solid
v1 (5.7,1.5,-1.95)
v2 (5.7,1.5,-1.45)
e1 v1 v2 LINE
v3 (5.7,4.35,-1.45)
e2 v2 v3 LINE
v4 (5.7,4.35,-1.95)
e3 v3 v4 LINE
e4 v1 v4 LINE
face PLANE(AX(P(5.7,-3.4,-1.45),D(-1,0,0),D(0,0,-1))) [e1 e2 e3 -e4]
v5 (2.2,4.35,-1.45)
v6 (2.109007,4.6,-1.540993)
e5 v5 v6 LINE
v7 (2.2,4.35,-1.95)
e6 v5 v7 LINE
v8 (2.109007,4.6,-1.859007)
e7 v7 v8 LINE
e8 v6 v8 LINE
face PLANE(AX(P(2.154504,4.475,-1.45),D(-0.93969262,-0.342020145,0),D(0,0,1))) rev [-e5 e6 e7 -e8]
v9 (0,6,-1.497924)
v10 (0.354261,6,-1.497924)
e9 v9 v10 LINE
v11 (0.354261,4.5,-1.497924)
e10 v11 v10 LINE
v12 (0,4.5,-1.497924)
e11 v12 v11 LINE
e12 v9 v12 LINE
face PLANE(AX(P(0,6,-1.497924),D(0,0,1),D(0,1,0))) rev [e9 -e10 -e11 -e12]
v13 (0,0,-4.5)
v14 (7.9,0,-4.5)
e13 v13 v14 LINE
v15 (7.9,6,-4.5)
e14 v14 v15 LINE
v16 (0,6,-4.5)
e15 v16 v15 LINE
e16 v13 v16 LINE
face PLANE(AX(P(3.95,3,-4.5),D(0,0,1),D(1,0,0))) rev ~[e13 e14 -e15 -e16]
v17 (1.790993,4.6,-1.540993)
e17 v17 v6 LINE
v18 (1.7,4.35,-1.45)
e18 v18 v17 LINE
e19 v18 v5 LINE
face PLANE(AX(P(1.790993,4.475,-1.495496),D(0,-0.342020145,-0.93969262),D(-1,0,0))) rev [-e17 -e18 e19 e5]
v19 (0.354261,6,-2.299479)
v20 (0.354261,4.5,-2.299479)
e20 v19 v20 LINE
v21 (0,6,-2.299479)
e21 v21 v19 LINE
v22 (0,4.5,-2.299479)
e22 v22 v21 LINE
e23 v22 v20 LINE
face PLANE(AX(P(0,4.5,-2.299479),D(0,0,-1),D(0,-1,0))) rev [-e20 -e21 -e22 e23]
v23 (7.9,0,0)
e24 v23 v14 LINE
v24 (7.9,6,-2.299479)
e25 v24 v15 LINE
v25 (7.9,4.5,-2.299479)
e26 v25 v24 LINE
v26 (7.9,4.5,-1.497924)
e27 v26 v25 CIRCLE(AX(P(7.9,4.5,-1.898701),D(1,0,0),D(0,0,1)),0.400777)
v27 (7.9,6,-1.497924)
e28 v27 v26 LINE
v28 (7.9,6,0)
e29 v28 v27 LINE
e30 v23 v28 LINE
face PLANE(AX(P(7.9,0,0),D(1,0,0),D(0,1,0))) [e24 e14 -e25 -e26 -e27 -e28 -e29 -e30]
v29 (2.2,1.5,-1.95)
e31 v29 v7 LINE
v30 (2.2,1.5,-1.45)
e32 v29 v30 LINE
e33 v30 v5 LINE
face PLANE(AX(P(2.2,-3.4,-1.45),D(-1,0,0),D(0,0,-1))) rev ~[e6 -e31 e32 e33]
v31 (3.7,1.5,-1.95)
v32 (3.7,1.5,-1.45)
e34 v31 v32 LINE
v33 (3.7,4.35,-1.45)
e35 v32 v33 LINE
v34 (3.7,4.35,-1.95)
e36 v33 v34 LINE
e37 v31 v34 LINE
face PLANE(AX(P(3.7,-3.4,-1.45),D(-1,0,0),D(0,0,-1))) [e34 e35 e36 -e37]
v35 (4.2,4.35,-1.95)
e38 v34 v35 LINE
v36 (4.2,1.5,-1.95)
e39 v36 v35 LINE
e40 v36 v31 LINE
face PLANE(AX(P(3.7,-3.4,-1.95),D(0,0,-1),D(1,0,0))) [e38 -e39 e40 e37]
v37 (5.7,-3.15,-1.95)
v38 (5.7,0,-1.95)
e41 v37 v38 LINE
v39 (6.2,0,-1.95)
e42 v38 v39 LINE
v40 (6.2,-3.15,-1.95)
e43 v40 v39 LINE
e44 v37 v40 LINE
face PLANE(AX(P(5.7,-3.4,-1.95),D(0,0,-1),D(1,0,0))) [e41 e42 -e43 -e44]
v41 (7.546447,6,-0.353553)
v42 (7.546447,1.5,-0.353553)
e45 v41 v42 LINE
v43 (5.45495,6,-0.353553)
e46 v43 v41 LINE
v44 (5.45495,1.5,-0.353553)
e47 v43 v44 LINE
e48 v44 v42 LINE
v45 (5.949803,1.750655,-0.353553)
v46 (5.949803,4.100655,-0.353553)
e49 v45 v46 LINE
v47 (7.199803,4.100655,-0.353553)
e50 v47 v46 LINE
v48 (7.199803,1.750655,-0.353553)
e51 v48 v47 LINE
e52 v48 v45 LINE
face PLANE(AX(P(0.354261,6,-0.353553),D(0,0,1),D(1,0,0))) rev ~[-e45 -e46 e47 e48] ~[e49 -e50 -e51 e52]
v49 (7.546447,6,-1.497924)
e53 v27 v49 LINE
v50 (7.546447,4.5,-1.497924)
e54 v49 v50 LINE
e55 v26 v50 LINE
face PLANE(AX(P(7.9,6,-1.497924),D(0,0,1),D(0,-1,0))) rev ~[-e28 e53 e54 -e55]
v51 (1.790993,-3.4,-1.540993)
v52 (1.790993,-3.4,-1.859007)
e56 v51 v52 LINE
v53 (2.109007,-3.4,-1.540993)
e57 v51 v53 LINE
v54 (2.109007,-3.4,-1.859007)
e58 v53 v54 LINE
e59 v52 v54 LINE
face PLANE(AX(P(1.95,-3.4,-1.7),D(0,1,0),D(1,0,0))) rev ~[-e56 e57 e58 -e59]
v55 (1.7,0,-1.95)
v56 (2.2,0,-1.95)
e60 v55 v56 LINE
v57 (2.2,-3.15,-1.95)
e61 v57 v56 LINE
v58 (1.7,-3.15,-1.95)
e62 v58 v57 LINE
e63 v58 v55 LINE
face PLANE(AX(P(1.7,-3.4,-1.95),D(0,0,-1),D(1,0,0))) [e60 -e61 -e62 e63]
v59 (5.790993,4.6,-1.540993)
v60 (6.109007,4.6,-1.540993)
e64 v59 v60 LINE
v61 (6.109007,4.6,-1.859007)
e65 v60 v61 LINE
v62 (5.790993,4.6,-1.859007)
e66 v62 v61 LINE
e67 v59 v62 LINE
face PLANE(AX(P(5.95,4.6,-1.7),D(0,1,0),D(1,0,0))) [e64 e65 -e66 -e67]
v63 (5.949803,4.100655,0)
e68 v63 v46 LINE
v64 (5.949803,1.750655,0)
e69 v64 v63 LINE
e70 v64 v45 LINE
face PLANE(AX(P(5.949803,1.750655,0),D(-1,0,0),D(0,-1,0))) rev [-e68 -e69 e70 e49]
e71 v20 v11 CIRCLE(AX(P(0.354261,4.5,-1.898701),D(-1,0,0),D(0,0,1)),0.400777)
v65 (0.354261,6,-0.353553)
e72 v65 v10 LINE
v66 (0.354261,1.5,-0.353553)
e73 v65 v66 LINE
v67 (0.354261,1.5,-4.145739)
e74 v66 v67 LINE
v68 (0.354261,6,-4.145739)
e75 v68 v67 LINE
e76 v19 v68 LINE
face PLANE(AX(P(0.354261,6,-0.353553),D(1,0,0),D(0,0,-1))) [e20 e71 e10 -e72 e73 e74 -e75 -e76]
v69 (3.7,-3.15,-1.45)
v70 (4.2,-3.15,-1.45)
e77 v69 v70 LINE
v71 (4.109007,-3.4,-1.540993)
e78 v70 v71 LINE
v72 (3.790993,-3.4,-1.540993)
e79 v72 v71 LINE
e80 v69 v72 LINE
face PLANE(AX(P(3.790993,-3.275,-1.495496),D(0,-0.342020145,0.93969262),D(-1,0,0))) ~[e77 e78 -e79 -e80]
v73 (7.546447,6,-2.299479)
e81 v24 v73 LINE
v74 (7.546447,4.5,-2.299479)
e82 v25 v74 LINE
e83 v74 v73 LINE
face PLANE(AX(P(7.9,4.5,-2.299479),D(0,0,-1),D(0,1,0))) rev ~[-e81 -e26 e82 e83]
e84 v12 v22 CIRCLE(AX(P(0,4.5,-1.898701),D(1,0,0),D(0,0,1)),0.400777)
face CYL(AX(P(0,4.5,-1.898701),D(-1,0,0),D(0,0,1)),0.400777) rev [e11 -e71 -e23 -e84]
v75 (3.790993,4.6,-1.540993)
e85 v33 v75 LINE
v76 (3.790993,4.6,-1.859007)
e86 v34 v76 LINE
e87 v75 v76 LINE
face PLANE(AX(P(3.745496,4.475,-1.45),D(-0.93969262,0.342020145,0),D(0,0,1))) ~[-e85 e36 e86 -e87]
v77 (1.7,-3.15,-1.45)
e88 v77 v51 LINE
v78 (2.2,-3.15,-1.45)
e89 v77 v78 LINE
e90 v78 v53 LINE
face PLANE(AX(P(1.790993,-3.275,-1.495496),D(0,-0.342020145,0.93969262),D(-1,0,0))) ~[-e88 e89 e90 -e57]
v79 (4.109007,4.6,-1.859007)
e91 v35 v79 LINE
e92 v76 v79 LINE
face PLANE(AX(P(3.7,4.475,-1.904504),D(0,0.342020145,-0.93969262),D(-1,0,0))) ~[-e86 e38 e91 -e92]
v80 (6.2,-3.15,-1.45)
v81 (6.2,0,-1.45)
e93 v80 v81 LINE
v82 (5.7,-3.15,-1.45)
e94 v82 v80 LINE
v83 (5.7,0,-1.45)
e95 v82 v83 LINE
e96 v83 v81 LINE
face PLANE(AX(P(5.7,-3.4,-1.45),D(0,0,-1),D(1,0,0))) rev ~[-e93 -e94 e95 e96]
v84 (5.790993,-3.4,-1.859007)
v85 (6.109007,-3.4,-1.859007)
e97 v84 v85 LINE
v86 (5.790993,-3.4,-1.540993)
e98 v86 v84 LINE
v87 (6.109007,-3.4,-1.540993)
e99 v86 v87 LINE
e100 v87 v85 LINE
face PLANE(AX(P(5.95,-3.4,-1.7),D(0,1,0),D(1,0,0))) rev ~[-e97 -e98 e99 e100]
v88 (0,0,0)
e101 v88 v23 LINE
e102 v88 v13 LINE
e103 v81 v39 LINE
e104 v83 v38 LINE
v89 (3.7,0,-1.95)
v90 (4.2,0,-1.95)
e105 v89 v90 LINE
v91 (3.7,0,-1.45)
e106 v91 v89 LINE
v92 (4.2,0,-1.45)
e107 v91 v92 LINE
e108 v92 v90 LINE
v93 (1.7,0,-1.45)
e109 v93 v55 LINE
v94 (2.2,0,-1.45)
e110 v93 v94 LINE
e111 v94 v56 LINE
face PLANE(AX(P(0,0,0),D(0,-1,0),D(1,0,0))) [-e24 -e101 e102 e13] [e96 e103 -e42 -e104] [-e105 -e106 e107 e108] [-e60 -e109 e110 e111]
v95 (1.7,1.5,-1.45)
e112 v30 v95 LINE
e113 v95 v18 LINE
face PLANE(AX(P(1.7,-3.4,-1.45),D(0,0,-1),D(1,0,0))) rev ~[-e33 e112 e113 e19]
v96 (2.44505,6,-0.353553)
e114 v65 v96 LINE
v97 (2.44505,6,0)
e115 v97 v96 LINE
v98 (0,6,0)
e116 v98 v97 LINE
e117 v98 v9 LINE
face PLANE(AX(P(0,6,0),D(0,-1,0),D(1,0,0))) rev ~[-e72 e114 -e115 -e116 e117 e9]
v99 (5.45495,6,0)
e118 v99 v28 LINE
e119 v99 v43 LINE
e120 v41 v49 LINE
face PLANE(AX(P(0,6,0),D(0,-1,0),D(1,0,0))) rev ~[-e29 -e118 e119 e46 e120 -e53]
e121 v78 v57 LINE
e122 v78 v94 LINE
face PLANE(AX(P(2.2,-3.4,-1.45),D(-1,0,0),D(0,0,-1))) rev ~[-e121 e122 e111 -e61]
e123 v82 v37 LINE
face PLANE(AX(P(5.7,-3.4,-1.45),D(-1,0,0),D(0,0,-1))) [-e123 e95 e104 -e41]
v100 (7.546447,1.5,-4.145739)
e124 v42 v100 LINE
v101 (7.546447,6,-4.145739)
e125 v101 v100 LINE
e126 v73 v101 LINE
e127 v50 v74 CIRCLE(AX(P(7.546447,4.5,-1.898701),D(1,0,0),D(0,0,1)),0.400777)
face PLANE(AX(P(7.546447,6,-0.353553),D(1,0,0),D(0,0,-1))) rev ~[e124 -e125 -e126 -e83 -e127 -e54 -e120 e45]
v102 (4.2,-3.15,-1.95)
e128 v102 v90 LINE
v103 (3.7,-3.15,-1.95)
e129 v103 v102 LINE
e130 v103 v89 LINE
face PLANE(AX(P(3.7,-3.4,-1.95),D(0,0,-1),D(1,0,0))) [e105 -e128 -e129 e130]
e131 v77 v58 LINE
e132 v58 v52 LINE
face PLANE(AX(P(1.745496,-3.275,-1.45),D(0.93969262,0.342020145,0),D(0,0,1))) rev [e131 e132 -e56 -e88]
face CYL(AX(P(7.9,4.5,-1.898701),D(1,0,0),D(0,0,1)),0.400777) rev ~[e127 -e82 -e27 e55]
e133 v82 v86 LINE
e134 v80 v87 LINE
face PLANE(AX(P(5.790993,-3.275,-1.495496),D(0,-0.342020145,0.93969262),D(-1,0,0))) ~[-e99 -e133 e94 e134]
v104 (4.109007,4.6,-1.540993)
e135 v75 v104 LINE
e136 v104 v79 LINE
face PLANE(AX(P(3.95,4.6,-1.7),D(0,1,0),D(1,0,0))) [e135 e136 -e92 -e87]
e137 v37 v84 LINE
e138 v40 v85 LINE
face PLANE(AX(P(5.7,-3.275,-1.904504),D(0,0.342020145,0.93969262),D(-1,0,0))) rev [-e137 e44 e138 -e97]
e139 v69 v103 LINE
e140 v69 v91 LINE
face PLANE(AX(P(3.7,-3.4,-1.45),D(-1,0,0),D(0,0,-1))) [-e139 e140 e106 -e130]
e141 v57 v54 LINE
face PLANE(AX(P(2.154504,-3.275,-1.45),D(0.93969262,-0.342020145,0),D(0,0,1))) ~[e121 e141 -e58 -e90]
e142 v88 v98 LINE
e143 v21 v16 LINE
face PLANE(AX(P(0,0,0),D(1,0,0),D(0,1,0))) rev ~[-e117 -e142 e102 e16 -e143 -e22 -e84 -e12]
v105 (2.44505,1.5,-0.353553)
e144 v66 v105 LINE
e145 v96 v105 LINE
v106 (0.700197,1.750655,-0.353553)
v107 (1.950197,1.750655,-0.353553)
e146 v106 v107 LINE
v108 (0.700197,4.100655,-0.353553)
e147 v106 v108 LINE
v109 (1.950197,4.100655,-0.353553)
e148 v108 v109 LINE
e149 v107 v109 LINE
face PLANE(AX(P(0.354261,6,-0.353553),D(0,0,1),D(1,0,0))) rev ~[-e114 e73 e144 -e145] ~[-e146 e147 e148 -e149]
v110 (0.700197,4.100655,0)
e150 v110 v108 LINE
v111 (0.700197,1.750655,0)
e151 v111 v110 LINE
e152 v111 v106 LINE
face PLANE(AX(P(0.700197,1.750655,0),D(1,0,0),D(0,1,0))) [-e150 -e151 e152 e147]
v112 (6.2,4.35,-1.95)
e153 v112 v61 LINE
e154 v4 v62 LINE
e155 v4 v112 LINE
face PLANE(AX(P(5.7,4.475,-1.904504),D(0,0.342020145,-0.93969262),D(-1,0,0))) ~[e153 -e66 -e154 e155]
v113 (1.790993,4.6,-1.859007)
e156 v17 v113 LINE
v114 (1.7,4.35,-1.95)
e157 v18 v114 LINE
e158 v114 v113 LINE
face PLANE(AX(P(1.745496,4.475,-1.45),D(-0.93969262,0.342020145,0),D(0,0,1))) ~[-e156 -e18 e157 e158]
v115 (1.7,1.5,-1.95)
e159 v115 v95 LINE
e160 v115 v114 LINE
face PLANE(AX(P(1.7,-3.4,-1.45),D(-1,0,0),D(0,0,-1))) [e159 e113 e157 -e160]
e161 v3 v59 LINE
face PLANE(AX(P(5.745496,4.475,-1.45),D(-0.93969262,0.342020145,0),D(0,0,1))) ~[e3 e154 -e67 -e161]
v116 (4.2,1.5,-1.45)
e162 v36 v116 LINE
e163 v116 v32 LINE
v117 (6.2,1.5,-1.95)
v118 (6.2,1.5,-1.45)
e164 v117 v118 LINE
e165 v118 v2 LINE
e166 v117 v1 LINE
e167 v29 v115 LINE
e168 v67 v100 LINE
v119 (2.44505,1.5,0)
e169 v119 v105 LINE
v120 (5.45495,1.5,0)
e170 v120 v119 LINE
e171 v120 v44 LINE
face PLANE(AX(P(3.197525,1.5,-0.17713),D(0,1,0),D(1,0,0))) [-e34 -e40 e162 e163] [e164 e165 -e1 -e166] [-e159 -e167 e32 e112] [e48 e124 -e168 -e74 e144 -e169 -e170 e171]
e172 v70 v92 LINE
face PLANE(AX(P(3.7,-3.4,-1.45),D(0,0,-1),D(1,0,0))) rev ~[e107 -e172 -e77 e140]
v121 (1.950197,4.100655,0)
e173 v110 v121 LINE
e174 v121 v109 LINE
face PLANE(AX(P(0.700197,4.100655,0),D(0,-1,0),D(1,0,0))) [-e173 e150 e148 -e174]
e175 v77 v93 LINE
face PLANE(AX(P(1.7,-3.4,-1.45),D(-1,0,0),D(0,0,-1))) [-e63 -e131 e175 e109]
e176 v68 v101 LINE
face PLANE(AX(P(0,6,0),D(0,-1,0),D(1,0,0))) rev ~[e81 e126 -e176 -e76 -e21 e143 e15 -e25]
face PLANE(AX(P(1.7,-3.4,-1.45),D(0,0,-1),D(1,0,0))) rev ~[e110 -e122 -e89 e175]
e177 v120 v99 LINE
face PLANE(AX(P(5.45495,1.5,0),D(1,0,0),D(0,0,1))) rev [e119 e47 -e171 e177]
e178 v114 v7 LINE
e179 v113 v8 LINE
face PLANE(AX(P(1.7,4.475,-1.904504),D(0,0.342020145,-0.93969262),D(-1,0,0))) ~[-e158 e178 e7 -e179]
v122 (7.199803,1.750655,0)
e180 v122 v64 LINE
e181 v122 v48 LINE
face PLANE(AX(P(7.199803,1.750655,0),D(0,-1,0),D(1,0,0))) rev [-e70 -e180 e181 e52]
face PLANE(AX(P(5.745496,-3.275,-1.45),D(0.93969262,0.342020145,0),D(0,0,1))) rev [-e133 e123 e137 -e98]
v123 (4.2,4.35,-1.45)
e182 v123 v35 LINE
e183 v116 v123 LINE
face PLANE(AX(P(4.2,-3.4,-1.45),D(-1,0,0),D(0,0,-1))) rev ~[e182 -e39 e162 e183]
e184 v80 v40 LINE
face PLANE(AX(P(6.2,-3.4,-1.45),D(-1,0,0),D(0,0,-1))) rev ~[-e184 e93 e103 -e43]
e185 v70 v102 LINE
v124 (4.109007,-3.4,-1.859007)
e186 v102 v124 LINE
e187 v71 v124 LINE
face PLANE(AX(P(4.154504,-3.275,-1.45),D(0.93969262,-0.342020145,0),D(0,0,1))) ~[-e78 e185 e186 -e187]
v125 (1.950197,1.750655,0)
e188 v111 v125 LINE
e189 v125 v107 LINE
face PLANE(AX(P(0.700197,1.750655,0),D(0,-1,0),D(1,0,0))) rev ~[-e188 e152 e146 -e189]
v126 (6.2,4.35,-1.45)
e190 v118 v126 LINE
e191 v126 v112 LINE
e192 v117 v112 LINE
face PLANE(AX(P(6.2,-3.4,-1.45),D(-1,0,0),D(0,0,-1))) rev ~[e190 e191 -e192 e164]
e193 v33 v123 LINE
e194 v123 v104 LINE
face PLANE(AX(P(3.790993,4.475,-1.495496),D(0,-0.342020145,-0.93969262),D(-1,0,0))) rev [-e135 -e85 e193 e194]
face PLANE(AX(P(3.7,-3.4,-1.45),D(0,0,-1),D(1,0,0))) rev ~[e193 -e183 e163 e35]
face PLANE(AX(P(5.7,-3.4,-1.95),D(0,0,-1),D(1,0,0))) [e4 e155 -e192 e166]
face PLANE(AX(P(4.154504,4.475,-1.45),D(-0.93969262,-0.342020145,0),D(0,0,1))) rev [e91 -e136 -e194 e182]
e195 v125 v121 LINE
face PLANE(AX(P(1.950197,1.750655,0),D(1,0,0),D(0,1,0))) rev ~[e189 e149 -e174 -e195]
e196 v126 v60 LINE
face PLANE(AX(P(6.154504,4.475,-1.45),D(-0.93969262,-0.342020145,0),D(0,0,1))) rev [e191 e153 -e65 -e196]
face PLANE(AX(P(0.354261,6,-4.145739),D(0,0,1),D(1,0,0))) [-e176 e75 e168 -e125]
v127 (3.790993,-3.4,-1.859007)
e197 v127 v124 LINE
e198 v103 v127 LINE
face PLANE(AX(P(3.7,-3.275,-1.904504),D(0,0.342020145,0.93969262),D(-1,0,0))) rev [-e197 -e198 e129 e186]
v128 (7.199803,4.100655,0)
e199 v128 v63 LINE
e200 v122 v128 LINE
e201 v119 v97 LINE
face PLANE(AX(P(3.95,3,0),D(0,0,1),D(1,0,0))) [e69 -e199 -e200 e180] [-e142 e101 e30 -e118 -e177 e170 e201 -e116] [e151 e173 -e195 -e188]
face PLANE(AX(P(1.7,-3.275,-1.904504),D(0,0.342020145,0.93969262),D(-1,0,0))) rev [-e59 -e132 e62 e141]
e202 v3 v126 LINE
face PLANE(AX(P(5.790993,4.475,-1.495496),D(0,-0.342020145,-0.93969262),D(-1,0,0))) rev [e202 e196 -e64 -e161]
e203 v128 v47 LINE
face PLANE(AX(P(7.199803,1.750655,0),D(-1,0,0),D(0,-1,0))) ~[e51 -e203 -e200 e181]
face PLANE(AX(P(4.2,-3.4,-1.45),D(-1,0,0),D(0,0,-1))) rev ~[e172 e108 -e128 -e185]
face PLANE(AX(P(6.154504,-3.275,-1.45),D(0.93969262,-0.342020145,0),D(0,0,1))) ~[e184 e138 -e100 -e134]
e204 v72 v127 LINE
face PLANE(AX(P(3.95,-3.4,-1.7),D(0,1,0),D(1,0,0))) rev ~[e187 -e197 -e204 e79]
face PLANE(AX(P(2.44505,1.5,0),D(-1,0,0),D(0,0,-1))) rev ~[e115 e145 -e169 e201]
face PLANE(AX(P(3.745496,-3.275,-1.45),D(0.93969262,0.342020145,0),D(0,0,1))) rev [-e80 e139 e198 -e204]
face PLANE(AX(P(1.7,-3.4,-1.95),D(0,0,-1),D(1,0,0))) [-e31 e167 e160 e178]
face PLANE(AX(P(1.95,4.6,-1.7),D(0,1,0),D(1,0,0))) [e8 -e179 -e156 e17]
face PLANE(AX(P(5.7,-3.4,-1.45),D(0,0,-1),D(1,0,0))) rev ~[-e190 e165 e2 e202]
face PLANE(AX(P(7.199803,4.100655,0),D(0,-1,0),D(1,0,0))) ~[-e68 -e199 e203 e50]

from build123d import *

# Parameters (mm, degrees)
SKETCH1_W              = 7.9
SKETCH1_H              = 6
BOSS_EXTRUDE1_DEPTH    = 4.5
SKETCH2_W              = 7.192186002
SKETCH2_H              = 3.792186002
CUT_EXTRUDE1_DEPTH     = 4.5
SKETCH3_W              = 1.504949596
SKETCH3_H              = 0.354260607
CUT_EXTRUDE2_DEPTH     = 4.5
CUT_EXTRUDE3_DEPTH     = 0.5
SKETCH6_W              = 1.25
SKETCH6_H              = 2.35
CUT_EXTRUDE4_DEPTH     = 0.5
BOSS_EXTRUDE3_START    = -3.4
SKETCH10_W             = 0.5
SKETCH10_H             = 0.5
BOSS_EXTRUDE3_DEPTH    = 8
CHAMFER1_SIZE          = 0.25
CHAMFER1_SIZE2         = 0.090992559
CHAMFER1_PART_2_SIZE   = 0.25
CHAMFER1_PART_2_SIZE2  = 0.090992559
CHAMFER1_PART_3_SIZE   = 0.25
CHAMFER1_PART_3_SIZE2  = 0.090992559
CHAMFER1_PART_4_SIZE   = 0.25
CHAMFER1_PART_4_SIZE2  = 0.090992559
CHAMFER1_PART_5_SIZE   = 0.25
CHAMFER1_PART_5_SIZE2  = 0.090992559
CHAMFER1_PART_6_SIZE   = 0.25
CHAMFER1_PART_6_SIZE2  = 0.090992559
CHAMFER1_PART_7_SIZE   = 0.25
CHAMFER1_PART_7_SIZE2  = 0.090992559
CHAMFER1_PART_8_SIZE   = 0.25
CHAMFER1_PART_8_SIZE2  = 0.090992559
CHAMFER1_PART_9_SIZE   = 0.25
CHAMFER1_PART_9_SIZE2  = 0.090992559
CHAMFER1_PART_10_SIZE  = 0.25
CHAMFER1_PART_10_SIZE2 = 0.090992559
CHAMFER1_PART_11_SIZE  = 0.25
CHAMFER1_PART_11_SIZE2 = 0.090992559
CHAMFER1_PART_12_SIZE  = 0.25
CHAMFER1_PART_12_SIZE2 = 0.090992559
CHAMFER2_SIZE          = 0.25
CHAMFER2_SIZE2         = 0.090992559
CHAMFER2_PART_2_SIZE   = 0.25
CHAMFER2_PART_2_SIZE2  = 0.090992559
CHAMFER2_PART_3_SIZE   = 0.25
CHAMFER2_PART_3_SIZE2  = 0.090992559
CHAMFER2_PART_4_SIZE   = 0.25
CHAMFER2_PART_4_SIZE2  = 0.090992559
CHAMFER2_PART_5_SIZE   = 0.25
CHAMFER2_PART_5_SIZE2  = 0.090992559
CHAMFER2_PART_6_SIZE   = 0.25
CHAMFER2_PART_6_SIZE2  = 0.090992559
CHAMFER2_PART_7_SIZE   = 0.25
CHAMFER2_PART_7_SIZE2  = 0.090992559
CHAMFER2_PART_8_SIZE   = 0.25
CHAMFER2_PART_8_SIZE2  = 0.090992559
CHAMFER2_PART_9_SIZE   = 0.25
CHAMFER2_PART_9_SIZE2  = 0.090992559
CHAMFER2_PART_10_SIZE  = 0.25
CHAMFER2_PART_10_SIZE2 = 0.090992559
CHAMFER2_PART_11_SIZE  = 0.25
CHAMFER2_PART_11_SIZE2 = 0.090992559
CHAMFER2_PART_12_SIZE  = 0.25
CHAMFER2_PART_12_SIZE2 = 0.090992559


with BuildPart() as part:
    # Sketch1 → Boss-Extrude1 (new body)
    with BuildSketch(Plane.XY):
        with Locations((3.95, 3)):
            Rectangle(SKETCH1_W, SKETCH1_H)
    extrude(amount=-BOSS_EXTRUDE1_DEPTH)

    # Sketch2 → Cut-Extrude1 (cut)
    with BuildSketch(Plane(origin=(0, 6, 0), x_dir=(1, 0, 0), z_dir=(0, 1, 0))):
        with Locations((3.950353608, 2.249646392)):
            Rectangle(SKETCH2_W, SKETCH2_H)
    extrude(amount=-CUT_EXTRUDE1_DEPTH, mode=Mode.SUBTRACT)

    # Sketch3 → Cut-Extrude2 (cut)
    with BuildSketch(Plane(origin=(0, 1.5, 0), x_dir=(1, 0, 0), z_dir=(0, 1, 0))):
        with Locations((3.197525202, 0.177130304)):
            Rectangle(SKETCH3_W, SKETCH3_H)
    cut_extrude2 = extrude(amount=CUT_EXTRUDE2_DEPTH, mode=Mode.SUBTRACT)

    # Sketch5 → Cut-Extrude3 (cut)
    with BuildSketch(Plane(origin=(7.9, 0, 0), x_dir=(0, 0, -1), z_dir=(1, 0, 0))):
        with BuildLine():
            Line((2.299478677, 6), (1.497924103, 6))
            Line((1.497924103, 6), (1.497924103, 4.5))
            ThreePointArc((1.497924103, 4.5), (1.89870139, 4.900777287), (2.299478677, 4.5))
            Line((2.299478677, 4.5), (2.299478677, 6))
        make_face()
        with BuildLine():
            ThreePointArc((2.299478677, 4.5), (1.89870139, 4.900777287), (1.497924103, 4.5))
            Line((1.497924103, 4.5), (2.299478677, 4.5))
        make_face()
        with BuildLine():
            Line((2.299478677, 4.5), (1.497924103, 4.5))
            ThreePointArc((1.497924103, 4.5), (1.89870139, 4.099222713), (2.299478677, 4.5))
        make_face()
    cut_extrude3 = extrude(amount=-CUT_EXTRUDE3_DEPTH, mode=Mode.SUBTRACT)

    # Mirror1: Cut-Extrude3 across plane
    add(cut_extrude3.mirror(Plane(origin=(3.95, 0, 0), x_dir=(0, 0, 1), z_dir=(1, 0, 0))), mode=Mode.SUBTRACT)

    # Sketch6 → Cut-Extrude4 (cut)
    with BuildSketch(Plane.XY):
        with Locations((1.325196701, 2.925654718)):
            Rectangle(SKETCH6_W, SKETCH6_H)
    cut_extrude4 = extrude(amount=-CUT_EXTRUDE4_DEPTH, mode=Mode.SUBTRACT)

    # Sketch10 → Boss-Extrude3 (add)
    with BuildSketch(Plane(origin=(0, 0, 0), x_dir=(1, 0, 0), z_dir=(0, 1, 0)).offset(BOSS_EXTRUDE3_START)):
        with Locations((1.95, 1.7)):
            Rectangle(SKETCH10_W, SKETCH10_H)
        with Locations((3.95, 1.7)):
            Rectangle(SKETCH10_W, SKETCH10_H)
        with Locations((5.95, 1.7)):
            Rectangle(SKETCH10_W, SKETCH10_H)
    extrude(amount=BOSS_EXTRUDE3_DEPTH)

    # Chamfer1
    chamfer1_edges = [part.edges().sort_by_distance(p)[0] for p in [
        (2.2, 4.6, -1.7),
    ]]
    chamfer1_side = [part.faces().sort_by_distance(p)[0] for p in [
        (2.2, 3.05, -1.7),
    ]]
    chamfer(chamfer1_edges, length=CHAMFER1_SIZE, length2=CHAMFER1_SIZE2, reference=chamfer1_side[0])

    # Chamfer1 part 2
    chamfer1_part_2_edges = [part.edges().sort_by_distance(p)[0] for p in [
        (1.95, 4.6, -1.95),
    ]]
    chamfer1_part_2_side = [part.faces().sort_by_distance(p)[0] for p in [
        (1.95, 3.05, -1.95),
    ]]
    chamfer(chamfer1_part_2_edges, length=CHAMFER1_PART_2_SIZE, length2=CHAMFER1_PART_2_SIZE2, reference=chamfer1_part_2_side[0])

    # Chamfer1 part 3
    chamfer1_part_3_edges = [part.edges().sort_by_distance(p)[0] for p in [
        (1.7, 4.6, -1.7),
    ]]
    chamfer1_part_3_side = [part.faces().sort_by_distance(p)[0] for p in [
        (1.7, 3.05, -1.7),
    ]]
    chamfer(chamfer1_part_3_edges, length=CHAMFER1_PART_3_SIZE, length2=CHAMFER1_PART_3_SIZE2, reference=chamfer1_part_3_side[0])

    # Chamfer1 part 4
    chamfer1_part_4_edges = [part.edges().sort_by_distance(p)[0] for p in [
        (1.95, 4.6, -1.45),
    ]]
    chamfer1_part_4_side = [part.faces().sort_by_distance(p)[0] for p in [
        (1.95, 3.05, -1.45),
    ]]
    chamfer(chamfer1_part_4_edges, length=CHAMFER1_PART_4_SIZE, length2=CHAMFER1_PART_4_SIZE2, reference=chamfer1_part_4_side[0])

    # Chamfer1 part 5
    chamfer1_part_5_edges = [part.edges().sort_by_distance(p)[0] for p in [
        (4.2, 4.6, -1.7),
    ]]
    chamfer1_part_5_side = [part.faces().sort_by_distance(p)[0] for p in [
        (4.2, 3.05, -1.7),
    ]]
    chamfer(chamfer1_part_5_edges, length=CHAMFER1_PART_5_SIZE, length2=CHAMFER1_PART_5_SIZE2, reference=chamfer1_part_5_side[0])

    # Chamfer1 part 6
    chamfer1_part_6_edges = [part.edges().sort_by_distance(p)[0] for p in [
        (3.95, 4.6, -1.95),
    ]]
    chamfer1_part_6_side = [part.faces().sort_by_distance(p)[0] for p in [
        (3.95, 3.05, -1.95),
    ]]
    chamfer(chamfer1_part_6_edges, length=CHAMFER1_PART_6_SIZE, length2=CHAMFER1_PART_6_SIZE2, reference=chamfer1_part_6_side[0])

    # Chamfer1 part 7
    chamfer1_part_7_edges = [part.edges().sort_by_distance(p)[0] for p in [
        (3.7, 4.6, -1.7),
    ]]
    chamfer1_part_7_side = [part.faces().sort_by_distance(p)[0] for p in [
        (3.7, 3.05, -1.7),
    ]]
    chamfer(chamfer1_part_7_edges, length=CHAMFER1_PART_7_SIZE, length2=CHAMFER1_PART_7_SIZE2, reference=chamfer1_part_7_side[0])

    # Chamfer1 part 8
    chamfer1_part_8_edges = [part.edges().sort_by_distance(p)[0] for p in [
        (3.95, 4.6, -1.45),
    ]]
    chamfer1_part_8_side = [part.faces().sort_by_distance(p)[0] for p in [
        (3.95, 3.05, -1.45),
    ]]
    chamfer(chamfer1_part_8_edges, length=CHAMFER1_PART_8_SIZE, length2=CHAMFER1_PART_8_SIZE2, reference=chamfer1_part_8_side[0])

    # Chamfer1 part 9
    chamfer1_part_9_edges = [part.edges().sort_by_distance(p)[0] for p in [
        (6.2, 4.6, -1.7),
    ]]
    chamfer1_part_9_side = [part.faces().sort_by_distance(p)[0] for p in [
        (6.2, 3.05, -1.7),
    ]]
    chamfer(chamfer1_part_9_edges, length=CHAMFER1_PART_9_SIZE, length2=CHAMFER1_PART_9_SIZE2, reference=chamfer1_part_9_side[0])

    # Chamfer1 part 10
    chamfer1_part_10_edges = [part.edges().sort_by_distance(p)[0] for p in [
        (5.95, 4.6, -1.95),
    ]]
    chamfer1_part_10_side = [part.faces().sort_by_distance(p)[0] for p in [
        (5.95, 3.05, -1.95),
    ]]
    chamfer(chamfer1_part_10_edges, length=CHAMFER1_PART_10_SIZE, length2=CHAMFER1_PART_10_SIZE2, reference=chamfer1_part_10_side[0])

    # Chamfer1 part 11
    chamfer1_part_11_edges = [part.edges().sort_by_distance(p)[0] for p in [
        (5.7, 4.6, -1.7),
    ]]
    chamfer1_part_11_side = [part.faces().sort_by_distance(p)[0] for p in [
        (5.7, 3.05, -1.7),
    ]]
    chamfer(chamfer1_part_11_edges, length=CHAMFER1_PART_11_SIZE, length2=CHAMFER1_PART_11_SIZE2, reference=chamfer1_part_11_side[0])

    # Chamfer1 part 12
    chamfer1_part_12_edges = [part.edges().sort_by_distance(p)[0] for p in [
        (5.95, 4.6, -1.45),
    ]]
    chamfer1_part_12_side = [part.faces().sort_by_distance(p)[0] for p in [
        (5.95, 3.05, -1.45),
    ]]
    chamfer(chamfer1_part_12_edges, length=CHAMFER1_PART_12_SIZE, length2=CHAMFER1_PART_12_SIZE2, reference=chamfer1_part_12_side[0])

    # Chamfer2
    chamfer2_edges = [part.edges().sort_by_distance(p)[0] for p in [
        (2.2, -3.4, -1.7),
    ]]
    chamfer2_side = [part.faces().sort_by_distance(p)[0] for p in [
        (2.2, -1.7, -1.7),
    ]]
    chamfer(chamfer2_edges, length=CHAMFER2_SIZE, length2=CHAMFER2_SIZE2, reference=chamfer2_side[0])

    # Chamfer2 part 2
    chamfer2_part_2_edges = [part.edges().sort_by_distance(p)[0] for p in [
        (1.95, -3.4, -1.95),
    ]]
    chamfer2_part_2_side = [part.faces().sort_by_distance(p)[0] for p in [
        (1.95, -1.7, -1.95),
    ]]
    chamfer(chamfer2_part_2_edges, length=CHAMFER2_PART_2_SIZE, length2=CHAMFER2_PART_2_SIZE2, reference=chamfer2_part_2_side[0])

    # Chamfer2 part 3
    chamfer2_part_3_edges = [part.edges().sort_by_distance(p)[0] for p in [
        (1.7, -3.4, -1.7),
    ]]
    chamfer2_part_3_side = [part.faces().sort_by_distance(p)[0] for p in [
        (1.7, -1.7, -1.7),
    ]]
    chamfer(chamfer2_part_3_edges, length=CHAMFER2_PART_3_SIZE, length2=CHAMFER2_PART_3_SIZE2, reference=chamfer2_part_3_side[0])

    # Chamfer2 part 4
    chamfer2_part_4_edges = [part.edges().sort_by_distance(p)[0] for p in [
        (1.95, -3.4, -1.45),
    ]]
    chamfer2_part_4_side = [part.faces().sort_by_distance(p)[0] for p in [
        (1.95, -1.7, -1.45),
    ]]
    chamfer(chamfer2_part_4_edges, length=CHAMFER2_PART_4_SIZE, length2=CHAMFER2_PART_4_SIZE2, reference=chamfer2_part_4_side[0])

    # Chamfer2 part 5
    chamfer2_part_5_edges = [part.edges().sort_by_distance(p)[0] for p in [
        (4.2, -3.4, -1.7),
    ]]
    chamfer2_part_5_side = [part.faces().sort_by_distance(p)[0] for p in [
        (4.2, -1.7, -1.7),
    ]]
    chamfer(chamfer2_part_5_edges, length=CHAMFER2_PART_5_SIZE, length2=CHAMFER2_PART_5_SIZE2, reference=chamfer2_part_5_side[0])

    # Chamfer2 part 6
    chamfer2_part_6_edges = [part.edges().sort_by_distance(p)[0] for p in [
        (3.95, -3.4, -1.95),
    ]]
    chamfer2_part_6_side = [part.faces().sort_by_distance(p)[0] for p in [
        (3.95, -1.7, -1.95),
    ]]
    chamfer(chamfer2_part_6_edges, length=CHAMFER2_PART_6_SIZE, length2=CHAMFER2_PART_6_SIZE2, reference=chamfer2_part_6_side[0])

    # Chamfer2 part 7
    chamfer2_part_7_edges = [part.edges().sort_by_distance(p)[0] for p in [
        (3.7, -3.4, -1.7),
    ]]
    chamfer2_part_7_side = [part.faces().sort_by_distance(p)[0] for p in [
        (3.7, -1.7, -1.7),
    ]]
    chamfer(chamfer2_part_7_edges, length=CHAMFER2_PART_7_SIZE, length2=CHAMFER2_PART_7_SIZE2, reference=chamfer2_part_7_side[0])

    # Chamfer2 part 8
    chamfer2_part_8_edges = [part.edges().sort_by_distance(p)[0] for p in [
        (3.95, -3.4, -1.45),
    ]]
    chamfer2_part_8_side = [part.faces().sort_by_distance(p)[0] for p in [
        (3.95, -1.7, -1.45),
    ]]
    chamfer(chamfer2_part_8_edges, length=CHAMFER2_PART_8_SIZE, length2=CHAMFER2_PART_8_SIZE2, reference=chamfer2_part_8_side[0])

    # Chamfer2 part 9
    chamfer2_part_9_edges = [part.edges().sort_by_distance(p)[0] for p in [
        (6.2, -3.4, -1.7),
    ]]
    chamfer2_part_9_side = [part.faces().sort_by_distance(p)[0] for p in [
        (6.2, -1.7, -1.7),
    ]]
    chamfer(chamfer2_part_9_edges, length=CHAMFER2_PART_9_SIZE, length2=CHAMFER2_PART_9_SIZE2, reference=chamfer2_part_9_side[0])

    # Chamfer2 part 10
    chamfer2_part_10_edges = [part.edges().sort_by_distance(p)[0] for p in [
        (5.95, -3.4, -1.95),
    ]]
    chamfer2_part_10_side = [part.faces().sort_by_distance(p)[0] for p in [
        (5.95, -1.7, -1.95),
    ]]
    chamfer(chamfer2_part_10_edges, length=CHAMFER2_PART_10_SIZE, length2=CHAMFER2_PART_10_SIZE2, reference=chamfer2_part_10_side[0])

    # Chamfer2 part 11
    chamfer2_part_11_edges = [part.edges().sort_by_distance(p)[0] for p in [
        (5.7, -3.4, -1.7),
    ]]
    chamfer2_part_11_side = [part.faces().sort_by_distance(p)[0] for p in [
        (5.7, -1.7, -1.7),
    ]]
    chamfer(chamfer2_part_11_edges, length=CHAMFER2_PART_11_SIZE, length2=CHAMFER2_PART_11_SIZE2, reference=chamfer2_part_11_side[0])

    # Chamfer2 part 12
    chamfer2_part_12_edges = [part.edges().sort_by_distance(p)[0] for p in [
        (5.95, -3.4, -1.45),
    ]]
    chamfer2_part_12_side = [part.faces().sort_by_distance(p)[0] for p in [
        (5.95, -1.7, -1.45),
    ]]
    chamfer(chamfer2_part_12_edges, length=CHAMFER2_PART_12_SIZE, length2=CHAMFER2_PART_12_SIZE2, reference=chamfer2_part_12_side[0])

    # Mirror2: Cut-Extrude2, Cut-Extrude4 across plane
    add(cut_extrude2.mirror(Plane(origin=(3.95, 0, 0), x_dir=(0, 0, 1), z_dir=(1, 0, 0))), mode=Mode.SUBTRACT)
    add(cut_extrude4.mirror(Plane(origin=(3.95, 0, 0), x_dir=(0, 0, 1), z_dir=(1, 0, 0))), mode=Mode.SUBTRACT)


solid = part.part
